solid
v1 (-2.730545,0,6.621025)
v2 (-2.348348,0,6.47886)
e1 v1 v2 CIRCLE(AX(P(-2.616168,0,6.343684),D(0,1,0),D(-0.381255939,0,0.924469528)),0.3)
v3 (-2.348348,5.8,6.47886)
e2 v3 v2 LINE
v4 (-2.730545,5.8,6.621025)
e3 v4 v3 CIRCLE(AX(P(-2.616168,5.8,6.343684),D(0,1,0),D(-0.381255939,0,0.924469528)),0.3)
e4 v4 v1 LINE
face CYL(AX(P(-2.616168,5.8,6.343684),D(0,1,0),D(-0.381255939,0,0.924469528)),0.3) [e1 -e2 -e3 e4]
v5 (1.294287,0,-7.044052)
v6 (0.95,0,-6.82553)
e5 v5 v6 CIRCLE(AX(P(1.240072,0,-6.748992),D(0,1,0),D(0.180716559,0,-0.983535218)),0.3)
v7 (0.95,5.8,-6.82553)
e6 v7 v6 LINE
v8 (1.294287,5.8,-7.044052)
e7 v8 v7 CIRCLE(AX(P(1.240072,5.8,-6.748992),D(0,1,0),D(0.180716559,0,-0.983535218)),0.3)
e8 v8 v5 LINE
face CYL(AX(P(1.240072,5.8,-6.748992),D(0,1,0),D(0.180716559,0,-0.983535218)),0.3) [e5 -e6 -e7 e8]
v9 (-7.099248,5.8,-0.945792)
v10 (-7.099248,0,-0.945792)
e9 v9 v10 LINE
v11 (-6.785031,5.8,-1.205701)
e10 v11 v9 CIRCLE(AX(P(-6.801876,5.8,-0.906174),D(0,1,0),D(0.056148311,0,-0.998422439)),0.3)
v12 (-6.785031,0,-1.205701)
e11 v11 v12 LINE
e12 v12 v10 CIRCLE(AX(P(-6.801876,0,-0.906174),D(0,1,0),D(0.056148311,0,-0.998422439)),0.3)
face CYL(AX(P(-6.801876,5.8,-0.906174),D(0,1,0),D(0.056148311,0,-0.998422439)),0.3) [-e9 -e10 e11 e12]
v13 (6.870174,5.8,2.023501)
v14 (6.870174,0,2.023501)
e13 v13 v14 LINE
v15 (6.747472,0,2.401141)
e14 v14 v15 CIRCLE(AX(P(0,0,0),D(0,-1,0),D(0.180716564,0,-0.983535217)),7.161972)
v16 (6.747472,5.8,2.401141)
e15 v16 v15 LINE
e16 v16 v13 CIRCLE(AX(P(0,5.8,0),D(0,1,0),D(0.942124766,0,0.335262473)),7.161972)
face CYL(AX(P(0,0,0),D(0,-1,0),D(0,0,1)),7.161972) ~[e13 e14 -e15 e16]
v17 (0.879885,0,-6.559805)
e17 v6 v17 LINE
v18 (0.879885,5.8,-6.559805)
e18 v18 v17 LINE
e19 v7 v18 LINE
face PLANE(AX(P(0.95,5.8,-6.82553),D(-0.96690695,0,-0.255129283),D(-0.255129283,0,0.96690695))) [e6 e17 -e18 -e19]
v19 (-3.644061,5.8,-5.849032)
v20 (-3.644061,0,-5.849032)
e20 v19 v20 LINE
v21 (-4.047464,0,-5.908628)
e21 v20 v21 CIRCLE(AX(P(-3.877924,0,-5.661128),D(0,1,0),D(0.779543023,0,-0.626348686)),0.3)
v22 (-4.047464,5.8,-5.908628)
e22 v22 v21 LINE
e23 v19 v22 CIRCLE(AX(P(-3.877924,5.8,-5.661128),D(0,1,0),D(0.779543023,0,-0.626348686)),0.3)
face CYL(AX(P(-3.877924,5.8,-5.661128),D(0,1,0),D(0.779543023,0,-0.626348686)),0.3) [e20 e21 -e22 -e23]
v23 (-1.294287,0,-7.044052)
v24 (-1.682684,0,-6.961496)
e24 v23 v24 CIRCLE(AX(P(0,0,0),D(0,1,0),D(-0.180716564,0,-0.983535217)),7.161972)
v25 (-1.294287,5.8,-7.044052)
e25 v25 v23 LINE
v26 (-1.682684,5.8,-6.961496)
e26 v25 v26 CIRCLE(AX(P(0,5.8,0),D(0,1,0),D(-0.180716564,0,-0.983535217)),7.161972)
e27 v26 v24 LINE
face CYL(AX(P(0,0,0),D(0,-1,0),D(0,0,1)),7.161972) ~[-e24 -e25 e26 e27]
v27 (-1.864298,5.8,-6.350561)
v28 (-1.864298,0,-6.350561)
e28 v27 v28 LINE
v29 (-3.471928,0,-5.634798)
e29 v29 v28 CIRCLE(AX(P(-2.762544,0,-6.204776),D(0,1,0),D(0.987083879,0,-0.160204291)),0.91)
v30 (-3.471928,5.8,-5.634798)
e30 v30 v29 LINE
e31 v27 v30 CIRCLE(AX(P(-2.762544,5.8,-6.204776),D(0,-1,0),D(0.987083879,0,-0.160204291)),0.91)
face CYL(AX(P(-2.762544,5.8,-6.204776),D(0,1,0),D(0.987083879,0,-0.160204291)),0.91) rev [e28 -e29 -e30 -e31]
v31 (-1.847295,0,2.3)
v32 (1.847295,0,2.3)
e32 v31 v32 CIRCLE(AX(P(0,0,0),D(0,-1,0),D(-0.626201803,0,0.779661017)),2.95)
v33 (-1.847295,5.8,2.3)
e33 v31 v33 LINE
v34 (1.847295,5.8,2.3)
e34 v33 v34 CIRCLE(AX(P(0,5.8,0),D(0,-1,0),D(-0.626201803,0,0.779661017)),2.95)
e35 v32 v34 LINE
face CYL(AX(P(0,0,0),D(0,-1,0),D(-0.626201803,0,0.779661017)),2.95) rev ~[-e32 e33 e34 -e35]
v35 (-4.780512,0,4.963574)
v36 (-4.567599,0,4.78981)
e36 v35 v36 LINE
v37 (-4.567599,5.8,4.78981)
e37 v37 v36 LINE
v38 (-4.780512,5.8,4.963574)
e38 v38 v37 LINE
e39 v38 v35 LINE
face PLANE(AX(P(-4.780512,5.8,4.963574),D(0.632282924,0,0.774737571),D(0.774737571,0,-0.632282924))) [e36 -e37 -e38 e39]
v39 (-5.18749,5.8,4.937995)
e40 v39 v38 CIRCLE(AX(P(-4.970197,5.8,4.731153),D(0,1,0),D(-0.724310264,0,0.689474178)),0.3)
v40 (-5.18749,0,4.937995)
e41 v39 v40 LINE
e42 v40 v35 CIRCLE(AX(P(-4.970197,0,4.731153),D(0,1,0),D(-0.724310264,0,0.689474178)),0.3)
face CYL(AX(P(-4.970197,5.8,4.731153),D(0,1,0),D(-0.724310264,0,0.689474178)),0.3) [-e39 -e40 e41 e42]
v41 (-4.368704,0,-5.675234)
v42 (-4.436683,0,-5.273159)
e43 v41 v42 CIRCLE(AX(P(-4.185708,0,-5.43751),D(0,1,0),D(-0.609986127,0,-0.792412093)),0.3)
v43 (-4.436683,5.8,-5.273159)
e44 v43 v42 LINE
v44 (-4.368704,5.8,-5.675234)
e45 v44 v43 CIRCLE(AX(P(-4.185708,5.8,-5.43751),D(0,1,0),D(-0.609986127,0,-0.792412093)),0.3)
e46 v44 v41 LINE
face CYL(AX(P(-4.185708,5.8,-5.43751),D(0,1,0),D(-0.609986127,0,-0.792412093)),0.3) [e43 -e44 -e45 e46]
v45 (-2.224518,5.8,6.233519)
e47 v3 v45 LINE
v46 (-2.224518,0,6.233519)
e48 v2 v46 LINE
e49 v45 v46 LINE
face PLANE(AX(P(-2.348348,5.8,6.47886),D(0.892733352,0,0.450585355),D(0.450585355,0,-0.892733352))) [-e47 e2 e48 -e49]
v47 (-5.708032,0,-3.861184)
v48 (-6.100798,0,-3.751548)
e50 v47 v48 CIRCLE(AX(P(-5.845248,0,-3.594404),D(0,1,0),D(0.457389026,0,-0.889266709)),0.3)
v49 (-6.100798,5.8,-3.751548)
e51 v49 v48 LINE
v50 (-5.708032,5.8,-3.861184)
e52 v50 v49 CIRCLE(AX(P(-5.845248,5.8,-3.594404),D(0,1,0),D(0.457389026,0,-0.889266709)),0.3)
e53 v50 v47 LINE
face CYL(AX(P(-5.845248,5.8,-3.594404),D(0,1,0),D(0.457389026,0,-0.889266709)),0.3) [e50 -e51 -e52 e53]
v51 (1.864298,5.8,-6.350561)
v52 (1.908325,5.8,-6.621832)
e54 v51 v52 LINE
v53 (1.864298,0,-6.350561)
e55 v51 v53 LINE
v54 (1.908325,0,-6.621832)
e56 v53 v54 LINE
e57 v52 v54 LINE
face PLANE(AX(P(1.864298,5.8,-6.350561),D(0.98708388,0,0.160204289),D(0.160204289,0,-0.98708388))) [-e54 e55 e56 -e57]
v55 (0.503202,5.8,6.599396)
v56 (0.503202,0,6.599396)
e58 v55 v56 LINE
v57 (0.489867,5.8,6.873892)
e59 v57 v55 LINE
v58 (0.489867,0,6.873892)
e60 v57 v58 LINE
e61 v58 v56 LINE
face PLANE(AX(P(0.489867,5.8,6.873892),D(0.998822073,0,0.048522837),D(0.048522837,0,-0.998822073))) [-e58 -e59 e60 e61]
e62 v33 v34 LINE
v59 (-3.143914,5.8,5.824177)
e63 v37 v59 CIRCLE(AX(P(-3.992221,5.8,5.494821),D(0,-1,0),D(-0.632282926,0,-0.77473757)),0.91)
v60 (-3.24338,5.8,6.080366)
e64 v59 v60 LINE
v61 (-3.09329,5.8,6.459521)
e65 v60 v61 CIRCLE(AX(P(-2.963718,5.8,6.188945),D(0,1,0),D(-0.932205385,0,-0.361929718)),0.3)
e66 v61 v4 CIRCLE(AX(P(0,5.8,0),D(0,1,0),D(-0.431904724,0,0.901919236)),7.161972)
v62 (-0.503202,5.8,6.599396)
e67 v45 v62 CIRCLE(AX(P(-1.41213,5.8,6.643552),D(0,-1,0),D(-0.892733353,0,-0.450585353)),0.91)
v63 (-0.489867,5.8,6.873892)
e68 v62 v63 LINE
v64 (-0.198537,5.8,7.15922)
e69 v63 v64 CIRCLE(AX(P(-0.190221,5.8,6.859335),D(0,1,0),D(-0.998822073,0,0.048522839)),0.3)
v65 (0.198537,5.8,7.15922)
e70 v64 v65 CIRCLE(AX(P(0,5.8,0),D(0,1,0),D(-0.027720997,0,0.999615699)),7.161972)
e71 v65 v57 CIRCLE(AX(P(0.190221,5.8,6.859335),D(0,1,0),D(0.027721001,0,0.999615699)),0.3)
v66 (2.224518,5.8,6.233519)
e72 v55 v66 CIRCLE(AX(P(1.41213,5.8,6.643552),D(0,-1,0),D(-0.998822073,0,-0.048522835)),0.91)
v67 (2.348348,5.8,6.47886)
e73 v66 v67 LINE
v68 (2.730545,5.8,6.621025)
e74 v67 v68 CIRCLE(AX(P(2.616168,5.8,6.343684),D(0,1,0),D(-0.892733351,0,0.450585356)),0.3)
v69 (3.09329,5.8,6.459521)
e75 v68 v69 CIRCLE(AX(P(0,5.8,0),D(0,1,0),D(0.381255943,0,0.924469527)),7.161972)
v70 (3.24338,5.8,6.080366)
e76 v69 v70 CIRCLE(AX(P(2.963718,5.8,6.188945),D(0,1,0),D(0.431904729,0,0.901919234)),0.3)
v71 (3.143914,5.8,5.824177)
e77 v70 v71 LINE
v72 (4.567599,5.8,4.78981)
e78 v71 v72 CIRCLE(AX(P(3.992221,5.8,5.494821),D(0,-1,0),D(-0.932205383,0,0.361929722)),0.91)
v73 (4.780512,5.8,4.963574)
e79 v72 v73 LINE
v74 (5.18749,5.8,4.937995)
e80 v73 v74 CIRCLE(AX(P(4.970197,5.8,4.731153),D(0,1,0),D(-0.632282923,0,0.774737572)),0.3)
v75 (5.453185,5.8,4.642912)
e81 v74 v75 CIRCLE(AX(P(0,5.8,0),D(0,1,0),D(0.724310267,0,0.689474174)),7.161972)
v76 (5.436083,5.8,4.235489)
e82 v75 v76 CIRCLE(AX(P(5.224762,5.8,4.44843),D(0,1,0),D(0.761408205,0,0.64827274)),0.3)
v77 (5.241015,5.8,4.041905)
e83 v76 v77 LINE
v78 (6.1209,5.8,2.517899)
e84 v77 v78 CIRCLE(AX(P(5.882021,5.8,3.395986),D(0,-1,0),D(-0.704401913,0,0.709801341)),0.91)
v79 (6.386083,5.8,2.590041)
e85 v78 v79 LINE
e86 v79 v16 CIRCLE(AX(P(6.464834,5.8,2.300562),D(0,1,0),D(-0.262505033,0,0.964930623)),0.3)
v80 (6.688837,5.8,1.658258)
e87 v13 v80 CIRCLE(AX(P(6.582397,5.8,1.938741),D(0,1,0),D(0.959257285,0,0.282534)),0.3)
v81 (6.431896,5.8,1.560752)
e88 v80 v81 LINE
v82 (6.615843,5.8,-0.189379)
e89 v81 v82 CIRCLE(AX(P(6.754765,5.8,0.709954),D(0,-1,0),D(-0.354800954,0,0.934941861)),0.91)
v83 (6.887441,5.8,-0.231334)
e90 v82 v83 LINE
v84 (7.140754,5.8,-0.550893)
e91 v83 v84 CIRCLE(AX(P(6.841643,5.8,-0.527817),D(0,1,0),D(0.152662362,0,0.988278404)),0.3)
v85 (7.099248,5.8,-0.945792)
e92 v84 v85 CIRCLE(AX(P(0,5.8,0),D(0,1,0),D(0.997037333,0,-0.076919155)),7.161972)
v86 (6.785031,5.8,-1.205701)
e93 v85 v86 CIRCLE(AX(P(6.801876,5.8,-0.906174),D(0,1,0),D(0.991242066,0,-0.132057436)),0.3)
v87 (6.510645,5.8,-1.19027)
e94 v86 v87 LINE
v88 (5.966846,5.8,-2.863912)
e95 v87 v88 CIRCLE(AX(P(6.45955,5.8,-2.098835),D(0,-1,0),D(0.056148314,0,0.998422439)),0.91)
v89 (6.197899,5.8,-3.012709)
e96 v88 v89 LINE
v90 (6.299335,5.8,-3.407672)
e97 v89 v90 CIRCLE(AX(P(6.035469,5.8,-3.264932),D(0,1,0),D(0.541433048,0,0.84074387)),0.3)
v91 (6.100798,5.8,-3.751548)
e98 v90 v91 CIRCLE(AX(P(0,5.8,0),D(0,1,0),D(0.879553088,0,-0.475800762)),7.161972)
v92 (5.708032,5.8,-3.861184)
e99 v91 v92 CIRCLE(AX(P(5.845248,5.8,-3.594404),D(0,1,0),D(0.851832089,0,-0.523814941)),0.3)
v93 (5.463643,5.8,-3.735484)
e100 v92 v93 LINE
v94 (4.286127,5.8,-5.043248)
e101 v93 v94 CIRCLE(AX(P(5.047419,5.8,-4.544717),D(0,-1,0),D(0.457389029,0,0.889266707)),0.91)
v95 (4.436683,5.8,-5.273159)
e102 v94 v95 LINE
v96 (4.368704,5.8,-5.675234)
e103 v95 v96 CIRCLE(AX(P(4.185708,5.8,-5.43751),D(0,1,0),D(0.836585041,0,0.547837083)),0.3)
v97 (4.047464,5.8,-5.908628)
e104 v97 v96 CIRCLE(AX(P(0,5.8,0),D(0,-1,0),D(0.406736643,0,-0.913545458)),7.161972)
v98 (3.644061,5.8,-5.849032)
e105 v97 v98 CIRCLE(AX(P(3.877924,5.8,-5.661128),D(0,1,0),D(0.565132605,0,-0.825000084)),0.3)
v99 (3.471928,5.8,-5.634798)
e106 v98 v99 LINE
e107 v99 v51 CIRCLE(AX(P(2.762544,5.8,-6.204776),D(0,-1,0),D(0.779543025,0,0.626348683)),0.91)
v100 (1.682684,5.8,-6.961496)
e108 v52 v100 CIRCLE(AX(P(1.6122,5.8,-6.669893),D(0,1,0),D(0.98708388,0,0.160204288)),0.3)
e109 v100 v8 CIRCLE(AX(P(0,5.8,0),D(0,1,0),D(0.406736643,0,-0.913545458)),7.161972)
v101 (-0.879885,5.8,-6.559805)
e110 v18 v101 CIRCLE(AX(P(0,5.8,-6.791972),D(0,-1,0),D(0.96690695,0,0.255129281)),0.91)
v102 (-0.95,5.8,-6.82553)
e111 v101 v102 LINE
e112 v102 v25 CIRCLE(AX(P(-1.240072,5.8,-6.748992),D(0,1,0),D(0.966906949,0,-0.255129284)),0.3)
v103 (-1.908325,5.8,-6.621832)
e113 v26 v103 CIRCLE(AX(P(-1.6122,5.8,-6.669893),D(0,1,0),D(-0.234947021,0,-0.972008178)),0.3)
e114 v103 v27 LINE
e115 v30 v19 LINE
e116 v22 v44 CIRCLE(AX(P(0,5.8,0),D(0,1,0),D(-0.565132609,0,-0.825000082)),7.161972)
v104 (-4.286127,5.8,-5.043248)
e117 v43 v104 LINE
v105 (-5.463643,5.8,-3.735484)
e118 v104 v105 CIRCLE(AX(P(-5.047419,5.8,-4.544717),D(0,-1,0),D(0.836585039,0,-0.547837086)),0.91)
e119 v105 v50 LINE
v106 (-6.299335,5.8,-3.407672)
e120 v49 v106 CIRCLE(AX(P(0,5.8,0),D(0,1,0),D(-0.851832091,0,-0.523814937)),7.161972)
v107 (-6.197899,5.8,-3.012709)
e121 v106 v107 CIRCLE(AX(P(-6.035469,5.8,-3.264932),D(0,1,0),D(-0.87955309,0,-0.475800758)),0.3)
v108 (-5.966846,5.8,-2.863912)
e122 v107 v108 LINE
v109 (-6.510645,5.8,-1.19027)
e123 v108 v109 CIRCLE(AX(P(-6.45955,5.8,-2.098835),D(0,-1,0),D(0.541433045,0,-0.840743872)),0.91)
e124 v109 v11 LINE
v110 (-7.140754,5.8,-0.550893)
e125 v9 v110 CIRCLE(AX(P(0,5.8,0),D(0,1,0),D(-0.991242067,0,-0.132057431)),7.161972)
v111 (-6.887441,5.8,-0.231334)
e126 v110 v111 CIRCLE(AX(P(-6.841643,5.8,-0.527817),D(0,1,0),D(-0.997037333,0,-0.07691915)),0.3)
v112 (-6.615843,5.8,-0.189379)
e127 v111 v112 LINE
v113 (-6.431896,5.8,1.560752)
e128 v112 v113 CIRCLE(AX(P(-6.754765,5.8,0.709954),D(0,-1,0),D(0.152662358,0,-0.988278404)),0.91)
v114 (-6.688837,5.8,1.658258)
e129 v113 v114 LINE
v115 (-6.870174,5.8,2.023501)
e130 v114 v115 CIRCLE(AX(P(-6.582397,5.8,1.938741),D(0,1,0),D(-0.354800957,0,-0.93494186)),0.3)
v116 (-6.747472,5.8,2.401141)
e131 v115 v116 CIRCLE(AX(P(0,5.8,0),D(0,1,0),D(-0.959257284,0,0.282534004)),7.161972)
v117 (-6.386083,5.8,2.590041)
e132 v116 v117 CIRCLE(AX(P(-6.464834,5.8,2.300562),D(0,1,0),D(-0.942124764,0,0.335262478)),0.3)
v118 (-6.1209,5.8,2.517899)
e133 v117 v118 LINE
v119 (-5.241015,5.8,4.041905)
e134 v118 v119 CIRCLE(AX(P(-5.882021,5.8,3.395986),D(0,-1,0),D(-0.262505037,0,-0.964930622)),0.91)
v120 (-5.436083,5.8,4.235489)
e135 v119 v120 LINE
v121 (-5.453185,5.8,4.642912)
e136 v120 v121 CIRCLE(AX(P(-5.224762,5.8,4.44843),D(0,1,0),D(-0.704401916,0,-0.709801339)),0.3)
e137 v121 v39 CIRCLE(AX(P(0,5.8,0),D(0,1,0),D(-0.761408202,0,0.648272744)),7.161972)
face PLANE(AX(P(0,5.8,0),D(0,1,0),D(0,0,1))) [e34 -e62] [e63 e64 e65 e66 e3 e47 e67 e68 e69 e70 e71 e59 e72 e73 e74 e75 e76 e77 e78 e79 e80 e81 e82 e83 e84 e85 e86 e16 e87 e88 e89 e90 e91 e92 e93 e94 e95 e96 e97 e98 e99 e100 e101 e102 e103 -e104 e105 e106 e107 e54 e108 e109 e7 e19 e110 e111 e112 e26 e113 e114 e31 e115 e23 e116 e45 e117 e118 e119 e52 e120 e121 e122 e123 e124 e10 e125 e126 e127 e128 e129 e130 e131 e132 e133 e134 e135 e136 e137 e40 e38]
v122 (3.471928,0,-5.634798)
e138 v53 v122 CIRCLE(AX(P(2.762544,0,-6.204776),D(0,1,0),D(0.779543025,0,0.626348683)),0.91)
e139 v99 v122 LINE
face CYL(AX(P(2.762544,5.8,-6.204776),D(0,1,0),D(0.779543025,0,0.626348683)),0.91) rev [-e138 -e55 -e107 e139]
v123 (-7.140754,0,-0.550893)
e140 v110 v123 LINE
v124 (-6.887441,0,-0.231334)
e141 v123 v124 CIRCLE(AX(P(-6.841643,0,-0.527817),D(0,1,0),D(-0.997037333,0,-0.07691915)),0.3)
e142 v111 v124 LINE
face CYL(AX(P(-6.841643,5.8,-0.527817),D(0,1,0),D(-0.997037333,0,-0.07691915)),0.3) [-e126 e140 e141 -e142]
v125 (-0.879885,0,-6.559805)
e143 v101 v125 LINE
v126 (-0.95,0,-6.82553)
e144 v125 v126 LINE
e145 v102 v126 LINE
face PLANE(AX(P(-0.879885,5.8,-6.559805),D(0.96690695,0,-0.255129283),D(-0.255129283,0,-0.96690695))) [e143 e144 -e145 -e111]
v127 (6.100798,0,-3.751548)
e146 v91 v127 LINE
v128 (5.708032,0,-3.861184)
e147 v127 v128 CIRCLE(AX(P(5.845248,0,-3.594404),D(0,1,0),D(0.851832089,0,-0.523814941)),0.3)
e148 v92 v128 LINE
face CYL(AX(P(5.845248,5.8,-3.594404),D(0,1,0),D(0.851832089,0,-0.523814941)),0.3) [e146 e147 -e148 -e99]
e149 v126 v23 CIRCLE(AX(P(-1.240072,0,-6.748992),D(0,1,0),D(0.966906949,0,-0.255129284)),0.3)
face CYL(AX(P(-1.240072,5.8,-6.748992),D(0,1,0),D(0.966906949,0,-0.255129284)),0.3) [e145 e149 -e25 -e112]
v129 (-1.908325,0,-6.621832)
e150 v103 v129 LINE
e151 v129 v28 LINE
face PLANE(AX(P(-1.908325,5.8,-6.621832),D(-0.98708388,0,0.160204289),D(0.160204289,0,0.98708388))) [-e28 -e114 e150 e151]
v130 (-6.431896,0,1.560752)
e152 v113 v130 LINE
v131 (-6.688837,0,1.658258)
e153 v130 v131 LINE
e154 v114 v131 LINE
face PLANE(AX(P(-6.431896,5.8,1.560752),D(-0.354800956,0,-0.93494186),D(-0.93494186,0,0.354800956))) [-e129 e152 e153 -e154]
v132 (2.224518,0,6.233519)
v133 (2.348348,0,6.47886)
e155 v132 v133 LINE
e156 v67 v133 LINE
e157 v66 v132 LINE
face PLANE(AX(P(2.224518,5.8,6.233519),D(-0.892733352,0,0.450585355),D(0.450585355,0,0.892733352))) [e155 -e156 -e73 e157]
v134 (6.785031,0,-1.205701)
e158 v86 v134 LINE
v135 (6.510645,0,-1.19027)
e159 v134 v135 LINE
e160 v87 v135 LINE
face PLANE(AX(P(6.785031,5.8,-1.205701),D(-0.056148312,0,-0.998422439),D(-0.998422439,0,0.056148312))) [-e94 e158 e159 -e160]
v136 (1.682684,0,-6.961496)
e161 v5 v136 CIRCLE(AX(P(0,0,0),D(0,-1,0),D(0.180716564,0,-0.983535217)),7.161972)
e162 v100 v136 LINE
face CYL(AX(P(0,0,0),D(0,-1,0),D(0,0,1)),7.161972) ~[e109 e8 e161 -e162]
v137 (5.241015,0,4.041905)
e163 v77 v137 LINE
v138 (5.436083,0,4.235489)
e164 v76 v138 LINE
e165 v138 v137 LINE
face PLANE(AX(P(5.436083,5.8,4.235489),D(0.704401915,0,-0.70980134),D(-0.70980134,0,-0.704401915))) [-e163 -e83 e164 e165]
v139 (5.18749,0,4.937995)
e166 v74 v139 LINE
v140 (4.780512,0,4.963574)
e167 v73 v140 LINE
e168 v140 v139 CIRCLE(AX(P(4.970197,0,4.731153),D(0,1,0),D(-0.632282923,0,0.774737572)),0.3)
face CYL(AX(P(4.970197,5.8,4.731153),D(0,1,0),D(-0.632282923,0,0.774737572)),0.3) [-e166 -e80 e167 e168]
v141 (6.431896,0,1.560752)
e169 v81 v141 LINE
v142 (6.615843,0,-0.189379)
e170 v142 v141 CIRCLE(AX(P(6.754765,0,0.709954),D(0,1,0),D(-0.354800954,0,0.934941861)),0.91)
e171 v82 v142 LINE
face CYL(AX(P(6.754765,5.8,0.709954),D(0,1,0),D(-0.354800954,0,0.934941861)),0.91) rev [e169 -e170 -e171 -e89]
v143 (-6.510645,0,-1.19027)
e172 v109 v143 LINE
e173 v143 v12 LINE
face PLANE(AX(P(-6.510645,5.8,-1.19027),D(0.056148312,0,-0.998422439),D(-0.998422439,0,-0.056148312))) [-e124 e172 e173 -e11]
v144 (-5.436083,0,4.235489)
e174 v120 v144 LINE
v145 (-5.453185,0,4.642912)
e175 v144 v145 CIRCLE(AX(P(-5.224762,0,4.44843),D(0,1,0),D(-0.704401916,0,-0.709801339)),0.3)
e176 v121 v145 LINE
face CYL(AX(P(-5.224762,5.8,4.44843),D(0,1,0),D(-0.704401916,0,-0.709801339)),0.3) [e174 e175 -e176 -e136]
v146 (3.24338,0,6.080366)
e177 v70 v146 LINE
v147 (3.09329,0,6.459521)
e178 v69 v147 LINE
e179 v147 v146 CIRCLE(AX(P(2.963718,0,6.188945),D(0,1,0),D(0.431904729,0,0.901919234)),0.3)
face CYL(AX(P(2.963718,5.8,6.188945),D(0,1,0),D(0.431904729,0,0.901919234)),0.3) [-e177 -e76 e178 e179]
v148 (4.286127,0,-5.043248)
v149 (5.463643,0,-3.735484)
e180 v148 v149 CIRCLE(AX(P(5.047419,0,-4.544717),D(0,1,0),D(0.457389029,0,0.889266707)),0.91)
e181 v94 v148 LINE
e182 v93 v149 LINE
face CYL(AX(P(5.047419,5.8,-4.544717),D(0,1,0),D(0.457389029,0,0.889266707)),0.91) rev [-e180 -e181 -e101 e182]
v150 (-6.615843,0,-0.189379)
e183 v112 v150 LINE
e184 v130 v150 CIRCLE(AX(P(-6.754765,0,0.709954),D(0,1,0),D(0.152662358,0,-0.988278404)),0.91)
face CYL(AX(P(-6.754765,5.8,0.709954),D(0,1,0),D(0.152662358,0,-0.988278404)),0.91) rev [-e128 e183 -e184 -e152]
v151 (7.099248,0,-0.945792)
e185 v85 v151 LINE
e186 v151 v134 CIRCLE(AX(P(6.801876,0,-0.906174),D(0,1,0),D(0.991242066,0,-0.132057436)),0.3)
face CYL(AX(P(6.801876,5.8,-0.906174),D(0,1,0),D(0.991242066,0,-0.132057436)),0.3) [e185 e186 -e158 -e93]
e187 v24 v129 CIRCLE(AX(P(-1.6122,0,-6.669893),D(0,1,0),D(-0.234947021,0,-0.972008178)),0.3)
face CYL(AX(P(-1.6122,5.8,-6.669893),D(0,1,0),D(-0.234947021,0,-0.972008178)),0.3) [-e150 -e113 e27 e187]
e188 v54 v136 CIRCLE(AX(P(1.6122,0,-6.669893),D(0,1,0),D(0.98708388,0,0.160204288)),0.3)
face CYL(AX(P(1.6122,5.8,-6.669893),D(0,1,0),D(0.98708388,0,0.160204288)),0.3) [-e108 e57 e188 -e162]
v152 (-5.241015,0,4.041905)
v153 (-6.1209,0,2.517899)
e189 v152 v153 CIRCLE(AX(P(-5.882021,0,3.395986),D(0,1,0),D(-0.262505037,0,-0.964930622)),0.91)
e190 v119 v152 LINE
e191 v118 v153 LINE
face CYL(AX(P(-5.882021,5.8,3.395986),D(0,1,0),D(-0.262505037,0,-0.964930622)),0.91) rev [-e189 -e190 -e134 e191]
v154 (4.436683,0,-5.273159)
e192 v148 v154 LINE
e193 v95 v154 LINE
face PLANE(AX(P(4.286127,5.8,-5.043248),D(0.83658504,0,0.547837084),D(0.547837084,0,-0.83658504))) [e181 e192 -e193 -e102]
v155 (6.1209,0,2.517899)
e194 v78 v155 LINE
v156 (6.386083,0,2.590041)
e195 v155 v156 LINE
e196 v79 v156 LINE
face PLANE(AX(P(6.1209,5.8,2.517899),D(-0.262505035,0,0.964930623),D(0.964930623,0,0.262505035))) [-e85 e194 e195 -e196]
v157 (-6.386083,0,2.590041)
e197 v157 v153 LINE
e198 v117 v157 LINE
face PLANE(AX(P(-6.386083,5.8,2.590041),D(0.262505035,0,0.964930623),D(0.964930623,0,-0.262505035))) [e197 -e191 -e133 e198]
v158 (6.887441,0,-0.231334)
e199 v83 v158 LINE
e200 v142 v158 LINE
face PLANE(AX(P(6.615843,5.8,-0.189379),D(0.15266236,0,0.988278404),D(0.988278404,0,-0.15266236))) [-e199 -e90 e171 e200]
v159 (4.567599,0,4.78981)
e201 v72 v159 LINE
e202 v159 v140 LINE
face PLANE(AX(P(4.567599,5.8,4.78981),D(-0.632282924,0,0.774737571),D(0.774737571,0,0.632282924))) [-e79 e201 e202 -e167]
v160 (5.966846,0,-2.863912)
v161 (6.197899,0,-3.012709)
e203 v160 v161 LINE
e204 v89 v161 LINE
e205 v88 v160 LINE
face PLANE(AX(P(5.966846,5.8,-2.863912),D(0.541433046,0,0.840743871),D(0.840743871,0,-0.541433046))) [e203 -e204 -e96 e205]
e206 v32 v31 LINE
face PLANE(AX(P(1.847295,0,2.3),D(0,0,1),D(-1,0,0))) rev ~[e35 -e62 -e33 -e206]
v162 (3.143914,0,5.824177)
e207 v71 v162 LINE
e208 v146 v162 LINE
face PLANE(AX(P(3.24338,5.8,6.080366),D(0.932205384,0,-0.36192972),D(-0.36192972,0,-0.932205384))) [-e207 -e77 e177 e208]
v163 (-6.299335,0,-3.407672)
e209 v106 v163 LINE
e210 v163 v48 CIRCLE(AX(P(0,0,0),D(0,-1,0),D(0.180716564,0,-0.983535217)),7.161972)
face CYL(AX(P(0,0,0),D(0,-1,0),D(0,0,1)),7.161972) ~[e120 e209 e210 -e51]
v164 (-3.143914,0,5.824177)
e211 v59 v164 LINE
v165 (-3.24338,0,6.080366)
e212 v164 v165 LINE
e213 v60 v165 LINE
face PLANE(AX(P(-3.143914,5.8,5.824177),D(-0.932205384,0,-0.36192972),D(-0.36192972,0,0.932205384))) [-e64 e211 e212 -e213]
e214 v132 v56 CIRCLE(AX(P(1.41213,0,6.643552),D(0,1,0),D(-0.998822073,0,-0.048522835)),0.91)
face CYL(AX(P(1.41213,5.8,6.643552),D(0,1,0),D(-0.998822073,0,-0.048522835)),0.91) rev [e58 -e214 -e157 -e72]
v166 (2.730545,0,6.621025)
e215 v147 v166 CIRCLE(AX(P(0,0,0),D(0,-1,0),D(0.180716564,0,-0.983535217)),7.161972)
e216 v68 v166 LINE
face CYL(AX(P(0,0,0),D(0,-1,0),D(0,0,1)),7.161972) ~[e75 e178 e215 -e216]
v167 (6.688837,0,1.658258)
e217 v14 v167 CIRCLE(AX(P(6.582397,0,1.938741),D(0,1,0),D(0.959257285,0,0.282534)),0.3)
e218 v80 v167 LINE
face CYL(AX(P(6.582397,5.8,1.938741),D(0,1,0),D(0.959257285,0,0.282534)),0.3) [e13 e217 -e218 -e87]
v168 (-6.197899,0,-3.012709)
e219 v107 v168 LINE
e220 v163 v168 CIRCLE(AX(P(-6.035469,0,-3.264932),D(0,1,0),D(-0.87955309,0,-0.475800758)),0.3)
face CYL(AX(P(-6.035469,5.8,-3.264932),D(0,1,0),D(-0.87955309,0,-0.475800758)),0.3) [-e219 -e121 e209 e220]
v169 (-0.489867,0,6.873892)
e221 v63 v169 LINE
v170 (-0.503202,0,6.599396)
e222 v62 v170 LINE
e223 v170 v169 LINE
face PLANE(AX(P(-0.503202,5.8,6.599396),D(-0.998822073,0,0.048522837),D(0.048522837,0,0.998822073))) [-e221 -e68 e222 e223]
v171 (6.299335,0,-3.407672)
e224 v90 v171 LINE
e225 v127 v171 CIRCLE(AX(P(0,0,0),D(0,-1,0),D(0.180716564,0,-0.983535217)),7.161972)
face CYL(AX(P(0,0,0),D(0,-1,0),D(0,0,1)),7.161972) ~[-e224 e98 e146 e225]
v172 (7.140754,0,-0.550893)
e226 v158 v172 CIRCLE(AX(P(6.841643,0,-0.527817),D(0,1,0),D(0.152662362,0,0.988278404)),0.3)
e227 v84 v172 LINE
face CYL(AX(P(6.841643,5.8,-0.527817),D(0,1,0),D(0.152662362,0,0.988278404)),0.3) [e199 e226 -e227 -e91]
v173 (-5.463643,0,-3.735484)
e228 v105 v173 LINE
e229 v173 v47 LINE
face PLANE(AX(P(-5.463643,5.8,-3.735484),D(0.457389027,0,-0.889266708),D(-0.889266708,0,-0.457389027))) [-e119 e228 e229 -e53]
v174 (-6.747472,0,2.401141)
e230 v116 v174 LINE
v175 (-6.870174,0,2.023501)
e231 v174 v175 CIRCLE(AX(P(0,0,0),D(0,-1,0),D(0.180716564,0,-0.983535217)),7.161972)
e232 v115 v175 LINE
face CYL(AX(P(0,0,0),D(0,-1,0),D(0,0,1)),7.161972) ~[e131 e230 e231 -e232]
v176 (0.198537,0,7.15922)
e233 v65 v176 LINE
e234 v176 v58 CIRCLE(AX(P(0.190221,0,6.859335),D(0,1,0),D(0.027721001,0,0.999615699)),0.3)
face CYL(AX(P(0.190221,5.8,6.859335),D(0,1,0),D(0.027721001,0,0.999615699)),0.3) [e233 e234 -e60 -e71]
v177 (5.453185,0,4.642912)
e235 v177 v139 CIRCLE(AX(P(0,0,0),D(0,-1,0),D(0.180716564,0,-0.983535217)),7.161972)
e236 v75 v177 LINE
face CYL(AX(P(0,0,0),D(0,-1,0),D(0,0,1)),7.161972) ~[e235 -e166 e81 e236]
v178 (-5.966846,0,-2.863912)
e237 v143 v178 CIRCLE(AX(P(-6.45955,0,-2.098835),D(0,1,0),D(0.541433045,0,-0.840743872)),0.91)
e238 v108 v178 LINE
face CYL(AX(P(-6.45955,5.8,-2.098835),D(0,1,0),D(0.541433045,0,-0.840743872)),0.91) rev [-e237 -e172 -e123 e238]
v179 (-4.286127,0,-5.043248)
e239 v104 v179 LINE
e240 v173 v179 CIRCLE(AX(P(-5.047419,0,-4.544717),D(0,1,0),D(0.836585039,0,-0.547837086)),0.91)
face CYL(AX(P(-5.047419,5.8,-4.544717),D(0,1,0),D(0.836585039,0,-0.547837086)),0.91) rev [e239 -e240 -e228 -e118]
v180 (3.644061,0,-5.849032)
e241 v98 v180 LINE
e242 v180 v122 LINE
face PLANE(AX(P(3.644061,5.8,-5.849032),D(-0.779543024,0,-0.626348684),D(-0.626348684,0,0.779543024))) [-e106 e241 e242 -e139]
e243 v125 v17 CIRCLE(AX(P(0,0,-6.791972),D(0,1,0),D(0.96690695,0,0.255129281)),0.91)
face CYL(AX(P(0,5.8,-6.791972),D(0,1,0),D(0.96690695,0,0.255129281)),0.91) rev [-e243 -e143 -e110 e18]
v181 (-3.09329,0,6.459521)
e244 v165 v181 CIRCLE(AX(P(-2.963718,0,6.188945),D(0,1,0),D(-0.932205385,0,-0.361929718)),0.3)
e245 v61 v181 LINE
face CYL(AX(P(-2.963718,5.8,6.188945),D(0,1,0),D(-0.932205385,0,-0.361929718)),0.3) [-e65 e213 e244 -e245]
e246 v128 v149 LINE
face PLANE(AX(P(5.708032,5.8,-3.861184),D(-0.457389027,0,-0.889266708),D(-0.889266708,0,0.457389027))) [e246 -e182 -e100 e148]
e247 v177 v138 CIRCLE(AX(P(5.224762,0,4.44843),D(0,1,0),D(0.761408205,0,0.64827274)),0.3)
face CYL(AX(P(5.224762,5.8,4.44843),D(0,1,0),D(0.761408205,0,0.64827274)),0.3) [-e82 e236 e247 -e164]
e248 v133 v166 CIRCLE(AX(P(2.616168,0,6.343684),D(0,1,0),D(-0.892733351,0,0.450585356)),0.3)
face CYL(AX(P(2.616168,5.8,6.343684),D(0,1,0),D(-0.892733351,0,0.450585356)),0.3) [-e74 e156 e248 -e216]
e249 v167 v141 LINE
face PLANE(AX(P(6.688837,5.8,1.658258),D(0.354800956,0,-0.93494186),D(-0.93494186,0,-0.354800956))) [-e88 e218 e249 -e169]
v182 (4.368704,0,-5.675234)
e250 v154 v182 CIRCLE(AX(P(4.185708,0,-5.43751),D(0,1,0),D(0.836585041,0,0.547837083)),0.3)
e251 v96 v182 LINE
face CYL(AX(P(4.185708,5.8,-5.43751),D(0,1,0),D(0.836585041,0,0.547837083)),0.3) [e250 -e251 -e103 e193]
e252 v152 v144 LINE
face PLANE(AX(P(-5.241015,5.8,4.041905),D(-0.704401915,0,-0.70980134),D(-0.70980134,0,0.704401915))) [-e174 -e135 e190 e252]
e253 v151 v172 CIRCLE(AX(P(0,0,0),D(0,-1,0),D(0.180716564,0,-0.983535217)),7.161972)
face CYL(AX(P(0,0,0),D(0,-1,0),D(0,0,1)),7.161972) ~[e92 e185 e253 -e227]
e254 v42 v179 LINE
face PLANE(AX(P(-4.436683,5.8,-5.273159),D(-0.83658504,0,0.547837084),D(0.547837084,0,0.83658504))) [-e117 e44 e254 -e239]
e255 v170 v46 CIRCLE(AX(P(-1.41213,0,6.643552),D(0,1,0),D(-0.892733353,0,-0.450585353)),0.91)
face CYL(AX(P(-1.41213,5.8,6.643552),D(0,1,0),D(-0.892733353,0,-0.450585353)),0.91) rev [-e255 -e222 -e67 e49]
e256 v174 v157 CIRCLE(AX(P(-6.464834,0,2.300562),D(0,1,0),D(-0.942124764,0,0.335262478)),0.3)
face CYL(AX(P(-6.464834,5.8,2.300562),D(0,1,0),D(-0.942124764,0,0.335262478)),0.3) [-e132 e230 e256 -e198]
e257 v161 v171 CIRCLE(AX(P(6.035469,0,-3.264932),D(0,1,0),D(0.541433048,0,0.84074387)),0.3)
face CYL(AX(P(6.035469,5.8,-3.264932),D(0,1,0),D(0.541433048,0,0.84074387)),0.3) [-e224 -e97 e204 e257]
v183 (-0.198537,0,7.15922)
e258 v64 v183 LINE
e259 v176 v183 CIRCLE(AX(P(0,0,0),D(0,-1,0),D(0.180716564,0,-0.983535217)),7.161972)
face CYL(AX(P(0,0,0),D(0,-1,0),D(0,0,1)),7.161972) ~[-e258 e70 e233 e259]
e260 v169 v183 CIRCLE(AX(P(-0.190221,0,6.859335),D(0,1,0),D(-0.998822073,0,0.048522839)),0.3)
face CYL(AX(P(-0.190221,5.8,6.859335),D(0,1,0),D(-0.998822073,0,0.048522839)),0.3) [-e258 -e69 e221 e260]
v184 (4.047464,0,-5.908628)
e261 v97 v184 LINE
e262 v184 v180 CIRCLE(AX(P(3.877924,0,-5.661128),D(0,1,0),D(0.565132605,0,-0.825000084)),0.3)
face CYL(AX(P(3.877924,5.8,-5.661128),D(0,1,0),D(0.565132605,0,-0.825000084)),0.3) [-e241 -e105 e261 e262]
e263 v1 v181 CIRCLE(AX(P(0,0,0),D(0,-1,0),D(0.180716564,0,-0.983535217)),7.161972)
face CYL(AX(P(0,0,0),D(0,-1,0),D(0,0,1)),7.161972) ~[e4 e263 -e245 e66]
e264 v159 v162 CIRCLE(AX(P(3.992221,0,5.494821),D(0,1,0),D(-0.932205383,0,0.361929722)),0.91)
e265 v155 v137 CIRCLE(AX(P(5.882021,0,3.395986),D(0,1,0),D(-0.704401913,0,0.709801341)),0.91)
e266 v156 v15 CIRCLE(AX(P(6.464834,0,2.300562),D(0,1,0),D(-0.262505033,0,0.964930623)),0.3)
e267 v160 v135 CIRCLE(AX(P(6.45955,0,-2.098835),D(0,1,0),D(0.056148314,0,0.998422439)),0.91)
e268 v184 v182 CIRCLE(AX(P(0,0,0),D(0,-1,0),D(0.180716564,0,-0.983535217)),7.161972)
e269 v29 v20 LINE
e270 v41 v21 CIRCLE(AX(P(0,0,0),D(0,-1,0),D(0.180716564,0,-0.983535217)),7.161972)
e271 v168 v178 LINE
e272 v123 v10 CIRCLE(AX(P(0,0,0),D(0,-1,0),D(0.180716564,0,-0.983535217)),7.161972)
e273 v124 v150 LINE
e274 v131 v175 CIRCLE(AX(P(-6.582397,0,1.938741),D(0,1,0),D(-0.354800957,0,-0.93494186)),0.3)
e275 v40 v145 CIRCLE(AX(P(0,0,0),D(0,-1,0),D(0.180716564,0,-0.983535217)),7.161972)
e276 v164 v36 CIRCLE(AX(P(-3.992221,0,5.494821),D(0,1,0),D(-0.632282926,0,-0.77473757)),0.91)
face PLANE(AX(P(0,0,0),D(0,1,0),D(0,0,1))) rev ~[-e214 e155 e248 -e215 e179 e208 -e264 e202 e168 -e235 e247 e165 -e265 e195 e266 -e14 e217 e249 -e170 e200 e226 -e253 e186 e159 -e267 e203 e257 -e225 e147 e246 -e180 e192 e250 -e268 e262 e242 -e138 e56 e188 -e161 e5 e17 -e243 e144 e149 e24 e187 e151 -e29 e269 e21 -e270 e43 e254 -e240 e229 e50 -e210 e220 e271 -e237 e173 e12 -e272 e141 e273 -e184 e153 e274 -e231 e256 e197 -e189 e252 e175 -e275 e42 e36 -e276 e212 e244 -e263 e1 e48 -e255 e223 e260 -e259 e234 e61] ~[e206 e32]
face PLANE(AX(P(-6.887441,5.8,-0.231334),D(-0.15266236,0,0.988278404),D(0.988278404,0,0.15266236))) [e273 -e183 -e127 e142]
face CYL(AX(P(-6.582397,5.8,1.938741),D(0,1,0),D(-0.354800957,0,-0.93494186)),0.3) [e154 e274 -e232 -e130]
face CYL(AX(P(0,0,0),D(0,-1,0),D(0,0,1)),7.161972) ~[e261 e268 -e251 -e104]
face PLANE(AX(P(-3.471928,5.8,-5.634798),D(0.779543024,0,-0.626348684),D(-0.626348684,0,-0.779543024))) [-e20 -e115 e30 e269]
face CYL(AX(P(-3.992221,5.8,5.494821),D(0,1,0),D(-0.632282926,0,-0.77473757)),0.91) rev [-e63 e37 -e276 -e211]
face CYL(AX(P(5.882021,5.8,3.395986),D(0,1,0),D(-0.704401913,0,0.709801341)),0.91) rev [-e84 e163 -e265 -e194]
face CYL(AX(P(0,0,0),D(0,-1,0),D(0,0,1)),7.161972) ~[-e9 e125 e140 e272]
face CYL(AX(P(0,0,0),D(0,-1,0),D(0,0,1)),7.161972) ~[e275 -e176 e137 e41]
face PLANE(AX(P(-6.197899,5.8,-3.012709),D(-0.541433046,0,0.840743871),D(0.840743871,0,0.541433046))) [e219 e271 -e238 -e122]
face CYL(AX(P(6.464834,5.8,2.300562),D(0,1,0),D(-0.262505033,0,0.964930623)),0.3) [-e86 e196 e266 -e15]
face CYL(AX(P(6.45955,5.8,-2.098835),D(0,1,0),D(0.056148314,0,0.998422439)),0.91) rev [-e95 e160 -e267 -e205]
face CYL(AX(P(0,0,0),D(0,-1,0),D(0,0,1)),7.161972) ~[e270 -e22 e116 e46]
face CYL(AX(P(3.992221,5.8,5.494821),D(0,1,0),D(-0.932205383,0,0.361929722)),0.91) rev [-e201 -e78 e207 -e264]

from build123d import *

# Parameters (mm, degrees)
SKETCH1_R           = 7.161972439
BOSS_EXTRUDE1_DEPTH = 5.8
CUT_EXTRUDE1_DEPTH  = 12.671662197
CIRPATTERN1_COUNT   = 15
CUT_EXTRUDE2_DEPTH  = 12.659198501


with BuildPart() as part:
    # Sketch1 → Boss-Extrude1 (new body)
    with BuildSketch(Plane(origin=(0, 0, 0), x_dir=(1, 0, 0), z_dir=(0, 1, 0))):
        with Locations(Location((0, 0, 0), (0, 0, 270))):
            Circle(SKETCH1_R)
    extrude(amount=BOSS_EXTRUDE1_DEPTH)

    # Sketch2 → Cut-Extrude1 (cut, through all)
    with BuildSketch(Plane(origin=(0, 5.8, 0), x_dir=(1, 0, 0), z_dir=(0, 1, 0))):
        with BuildLine():
            Line((-0.879885324, 6.559804793), (-0.95, 6.825530337))
            ThreePointArc((-0.95, 6.825530337), (-1.079308013, 7.002279754), (-1.294287054, 7.044052118))
            ThreePointArc((-1.294287054, 7.044052118), (-2.118539526, 6.841464719), (-2.913036628, 6.54278739))
            Line((-2.913036628, 6.54278739), (-2.913036628, 7.161972439))
            Line((-2.913036628, 7.161972439), (2.913036628, 7.161972439))
            Line((2.913036628, 7.161972439), (2.913036628, 6.54278739))
            ThreePointArc((2.913036628, 6.54278739), (2.118539526, 6.841464719), (1.294287054, 7.044052118))
            ThreePointArc((1.294287054, 7.044052118), (1.079308013, 7.002279754), (0.95, 6.825530337))
            Line((0.95, 6.825530337), (0.879885324, 6.559804793))
            ThreePointArc((0.879885324, 6.559804793), (0, 5.881972439), (-0.879885324, 6.559804793))
        make_face()
    cut_extrude1 = extrude(amount=-CUT_EXTRUDE1_DEPTH, mode=Mode.SUBTRACT)

    # CirPattern1: Cut-Extrude1 ×15 about axis
    cirpattern1_axis = Axis((0, 0, 0), (0, 1, 0))
    for i in range(1, CIRPATTERN1_COUNT):
        add(cut_extrude1.rotate(cirpattern1_axis, i * 360 / CIRPATTERN1_COUNT), mode=Mode.SUBTRACT)

    # Sketch3 → Cut-Extrude2 (cut, through all)
    with BuildSketch(Plane.XZ):
        with BuildLine():
            Line((1.84729532, 2.3), (-1.84729532, 2.3))
            ThreePointArc((-1.84729532, 2.3), (0, -2.95), (1.84729532, 2.3))
        make_face()
    extrude(amount=-CUT_EXTRUDE2_DEPTH, mode=Mode.SUBTRACT)


solid = part.part
